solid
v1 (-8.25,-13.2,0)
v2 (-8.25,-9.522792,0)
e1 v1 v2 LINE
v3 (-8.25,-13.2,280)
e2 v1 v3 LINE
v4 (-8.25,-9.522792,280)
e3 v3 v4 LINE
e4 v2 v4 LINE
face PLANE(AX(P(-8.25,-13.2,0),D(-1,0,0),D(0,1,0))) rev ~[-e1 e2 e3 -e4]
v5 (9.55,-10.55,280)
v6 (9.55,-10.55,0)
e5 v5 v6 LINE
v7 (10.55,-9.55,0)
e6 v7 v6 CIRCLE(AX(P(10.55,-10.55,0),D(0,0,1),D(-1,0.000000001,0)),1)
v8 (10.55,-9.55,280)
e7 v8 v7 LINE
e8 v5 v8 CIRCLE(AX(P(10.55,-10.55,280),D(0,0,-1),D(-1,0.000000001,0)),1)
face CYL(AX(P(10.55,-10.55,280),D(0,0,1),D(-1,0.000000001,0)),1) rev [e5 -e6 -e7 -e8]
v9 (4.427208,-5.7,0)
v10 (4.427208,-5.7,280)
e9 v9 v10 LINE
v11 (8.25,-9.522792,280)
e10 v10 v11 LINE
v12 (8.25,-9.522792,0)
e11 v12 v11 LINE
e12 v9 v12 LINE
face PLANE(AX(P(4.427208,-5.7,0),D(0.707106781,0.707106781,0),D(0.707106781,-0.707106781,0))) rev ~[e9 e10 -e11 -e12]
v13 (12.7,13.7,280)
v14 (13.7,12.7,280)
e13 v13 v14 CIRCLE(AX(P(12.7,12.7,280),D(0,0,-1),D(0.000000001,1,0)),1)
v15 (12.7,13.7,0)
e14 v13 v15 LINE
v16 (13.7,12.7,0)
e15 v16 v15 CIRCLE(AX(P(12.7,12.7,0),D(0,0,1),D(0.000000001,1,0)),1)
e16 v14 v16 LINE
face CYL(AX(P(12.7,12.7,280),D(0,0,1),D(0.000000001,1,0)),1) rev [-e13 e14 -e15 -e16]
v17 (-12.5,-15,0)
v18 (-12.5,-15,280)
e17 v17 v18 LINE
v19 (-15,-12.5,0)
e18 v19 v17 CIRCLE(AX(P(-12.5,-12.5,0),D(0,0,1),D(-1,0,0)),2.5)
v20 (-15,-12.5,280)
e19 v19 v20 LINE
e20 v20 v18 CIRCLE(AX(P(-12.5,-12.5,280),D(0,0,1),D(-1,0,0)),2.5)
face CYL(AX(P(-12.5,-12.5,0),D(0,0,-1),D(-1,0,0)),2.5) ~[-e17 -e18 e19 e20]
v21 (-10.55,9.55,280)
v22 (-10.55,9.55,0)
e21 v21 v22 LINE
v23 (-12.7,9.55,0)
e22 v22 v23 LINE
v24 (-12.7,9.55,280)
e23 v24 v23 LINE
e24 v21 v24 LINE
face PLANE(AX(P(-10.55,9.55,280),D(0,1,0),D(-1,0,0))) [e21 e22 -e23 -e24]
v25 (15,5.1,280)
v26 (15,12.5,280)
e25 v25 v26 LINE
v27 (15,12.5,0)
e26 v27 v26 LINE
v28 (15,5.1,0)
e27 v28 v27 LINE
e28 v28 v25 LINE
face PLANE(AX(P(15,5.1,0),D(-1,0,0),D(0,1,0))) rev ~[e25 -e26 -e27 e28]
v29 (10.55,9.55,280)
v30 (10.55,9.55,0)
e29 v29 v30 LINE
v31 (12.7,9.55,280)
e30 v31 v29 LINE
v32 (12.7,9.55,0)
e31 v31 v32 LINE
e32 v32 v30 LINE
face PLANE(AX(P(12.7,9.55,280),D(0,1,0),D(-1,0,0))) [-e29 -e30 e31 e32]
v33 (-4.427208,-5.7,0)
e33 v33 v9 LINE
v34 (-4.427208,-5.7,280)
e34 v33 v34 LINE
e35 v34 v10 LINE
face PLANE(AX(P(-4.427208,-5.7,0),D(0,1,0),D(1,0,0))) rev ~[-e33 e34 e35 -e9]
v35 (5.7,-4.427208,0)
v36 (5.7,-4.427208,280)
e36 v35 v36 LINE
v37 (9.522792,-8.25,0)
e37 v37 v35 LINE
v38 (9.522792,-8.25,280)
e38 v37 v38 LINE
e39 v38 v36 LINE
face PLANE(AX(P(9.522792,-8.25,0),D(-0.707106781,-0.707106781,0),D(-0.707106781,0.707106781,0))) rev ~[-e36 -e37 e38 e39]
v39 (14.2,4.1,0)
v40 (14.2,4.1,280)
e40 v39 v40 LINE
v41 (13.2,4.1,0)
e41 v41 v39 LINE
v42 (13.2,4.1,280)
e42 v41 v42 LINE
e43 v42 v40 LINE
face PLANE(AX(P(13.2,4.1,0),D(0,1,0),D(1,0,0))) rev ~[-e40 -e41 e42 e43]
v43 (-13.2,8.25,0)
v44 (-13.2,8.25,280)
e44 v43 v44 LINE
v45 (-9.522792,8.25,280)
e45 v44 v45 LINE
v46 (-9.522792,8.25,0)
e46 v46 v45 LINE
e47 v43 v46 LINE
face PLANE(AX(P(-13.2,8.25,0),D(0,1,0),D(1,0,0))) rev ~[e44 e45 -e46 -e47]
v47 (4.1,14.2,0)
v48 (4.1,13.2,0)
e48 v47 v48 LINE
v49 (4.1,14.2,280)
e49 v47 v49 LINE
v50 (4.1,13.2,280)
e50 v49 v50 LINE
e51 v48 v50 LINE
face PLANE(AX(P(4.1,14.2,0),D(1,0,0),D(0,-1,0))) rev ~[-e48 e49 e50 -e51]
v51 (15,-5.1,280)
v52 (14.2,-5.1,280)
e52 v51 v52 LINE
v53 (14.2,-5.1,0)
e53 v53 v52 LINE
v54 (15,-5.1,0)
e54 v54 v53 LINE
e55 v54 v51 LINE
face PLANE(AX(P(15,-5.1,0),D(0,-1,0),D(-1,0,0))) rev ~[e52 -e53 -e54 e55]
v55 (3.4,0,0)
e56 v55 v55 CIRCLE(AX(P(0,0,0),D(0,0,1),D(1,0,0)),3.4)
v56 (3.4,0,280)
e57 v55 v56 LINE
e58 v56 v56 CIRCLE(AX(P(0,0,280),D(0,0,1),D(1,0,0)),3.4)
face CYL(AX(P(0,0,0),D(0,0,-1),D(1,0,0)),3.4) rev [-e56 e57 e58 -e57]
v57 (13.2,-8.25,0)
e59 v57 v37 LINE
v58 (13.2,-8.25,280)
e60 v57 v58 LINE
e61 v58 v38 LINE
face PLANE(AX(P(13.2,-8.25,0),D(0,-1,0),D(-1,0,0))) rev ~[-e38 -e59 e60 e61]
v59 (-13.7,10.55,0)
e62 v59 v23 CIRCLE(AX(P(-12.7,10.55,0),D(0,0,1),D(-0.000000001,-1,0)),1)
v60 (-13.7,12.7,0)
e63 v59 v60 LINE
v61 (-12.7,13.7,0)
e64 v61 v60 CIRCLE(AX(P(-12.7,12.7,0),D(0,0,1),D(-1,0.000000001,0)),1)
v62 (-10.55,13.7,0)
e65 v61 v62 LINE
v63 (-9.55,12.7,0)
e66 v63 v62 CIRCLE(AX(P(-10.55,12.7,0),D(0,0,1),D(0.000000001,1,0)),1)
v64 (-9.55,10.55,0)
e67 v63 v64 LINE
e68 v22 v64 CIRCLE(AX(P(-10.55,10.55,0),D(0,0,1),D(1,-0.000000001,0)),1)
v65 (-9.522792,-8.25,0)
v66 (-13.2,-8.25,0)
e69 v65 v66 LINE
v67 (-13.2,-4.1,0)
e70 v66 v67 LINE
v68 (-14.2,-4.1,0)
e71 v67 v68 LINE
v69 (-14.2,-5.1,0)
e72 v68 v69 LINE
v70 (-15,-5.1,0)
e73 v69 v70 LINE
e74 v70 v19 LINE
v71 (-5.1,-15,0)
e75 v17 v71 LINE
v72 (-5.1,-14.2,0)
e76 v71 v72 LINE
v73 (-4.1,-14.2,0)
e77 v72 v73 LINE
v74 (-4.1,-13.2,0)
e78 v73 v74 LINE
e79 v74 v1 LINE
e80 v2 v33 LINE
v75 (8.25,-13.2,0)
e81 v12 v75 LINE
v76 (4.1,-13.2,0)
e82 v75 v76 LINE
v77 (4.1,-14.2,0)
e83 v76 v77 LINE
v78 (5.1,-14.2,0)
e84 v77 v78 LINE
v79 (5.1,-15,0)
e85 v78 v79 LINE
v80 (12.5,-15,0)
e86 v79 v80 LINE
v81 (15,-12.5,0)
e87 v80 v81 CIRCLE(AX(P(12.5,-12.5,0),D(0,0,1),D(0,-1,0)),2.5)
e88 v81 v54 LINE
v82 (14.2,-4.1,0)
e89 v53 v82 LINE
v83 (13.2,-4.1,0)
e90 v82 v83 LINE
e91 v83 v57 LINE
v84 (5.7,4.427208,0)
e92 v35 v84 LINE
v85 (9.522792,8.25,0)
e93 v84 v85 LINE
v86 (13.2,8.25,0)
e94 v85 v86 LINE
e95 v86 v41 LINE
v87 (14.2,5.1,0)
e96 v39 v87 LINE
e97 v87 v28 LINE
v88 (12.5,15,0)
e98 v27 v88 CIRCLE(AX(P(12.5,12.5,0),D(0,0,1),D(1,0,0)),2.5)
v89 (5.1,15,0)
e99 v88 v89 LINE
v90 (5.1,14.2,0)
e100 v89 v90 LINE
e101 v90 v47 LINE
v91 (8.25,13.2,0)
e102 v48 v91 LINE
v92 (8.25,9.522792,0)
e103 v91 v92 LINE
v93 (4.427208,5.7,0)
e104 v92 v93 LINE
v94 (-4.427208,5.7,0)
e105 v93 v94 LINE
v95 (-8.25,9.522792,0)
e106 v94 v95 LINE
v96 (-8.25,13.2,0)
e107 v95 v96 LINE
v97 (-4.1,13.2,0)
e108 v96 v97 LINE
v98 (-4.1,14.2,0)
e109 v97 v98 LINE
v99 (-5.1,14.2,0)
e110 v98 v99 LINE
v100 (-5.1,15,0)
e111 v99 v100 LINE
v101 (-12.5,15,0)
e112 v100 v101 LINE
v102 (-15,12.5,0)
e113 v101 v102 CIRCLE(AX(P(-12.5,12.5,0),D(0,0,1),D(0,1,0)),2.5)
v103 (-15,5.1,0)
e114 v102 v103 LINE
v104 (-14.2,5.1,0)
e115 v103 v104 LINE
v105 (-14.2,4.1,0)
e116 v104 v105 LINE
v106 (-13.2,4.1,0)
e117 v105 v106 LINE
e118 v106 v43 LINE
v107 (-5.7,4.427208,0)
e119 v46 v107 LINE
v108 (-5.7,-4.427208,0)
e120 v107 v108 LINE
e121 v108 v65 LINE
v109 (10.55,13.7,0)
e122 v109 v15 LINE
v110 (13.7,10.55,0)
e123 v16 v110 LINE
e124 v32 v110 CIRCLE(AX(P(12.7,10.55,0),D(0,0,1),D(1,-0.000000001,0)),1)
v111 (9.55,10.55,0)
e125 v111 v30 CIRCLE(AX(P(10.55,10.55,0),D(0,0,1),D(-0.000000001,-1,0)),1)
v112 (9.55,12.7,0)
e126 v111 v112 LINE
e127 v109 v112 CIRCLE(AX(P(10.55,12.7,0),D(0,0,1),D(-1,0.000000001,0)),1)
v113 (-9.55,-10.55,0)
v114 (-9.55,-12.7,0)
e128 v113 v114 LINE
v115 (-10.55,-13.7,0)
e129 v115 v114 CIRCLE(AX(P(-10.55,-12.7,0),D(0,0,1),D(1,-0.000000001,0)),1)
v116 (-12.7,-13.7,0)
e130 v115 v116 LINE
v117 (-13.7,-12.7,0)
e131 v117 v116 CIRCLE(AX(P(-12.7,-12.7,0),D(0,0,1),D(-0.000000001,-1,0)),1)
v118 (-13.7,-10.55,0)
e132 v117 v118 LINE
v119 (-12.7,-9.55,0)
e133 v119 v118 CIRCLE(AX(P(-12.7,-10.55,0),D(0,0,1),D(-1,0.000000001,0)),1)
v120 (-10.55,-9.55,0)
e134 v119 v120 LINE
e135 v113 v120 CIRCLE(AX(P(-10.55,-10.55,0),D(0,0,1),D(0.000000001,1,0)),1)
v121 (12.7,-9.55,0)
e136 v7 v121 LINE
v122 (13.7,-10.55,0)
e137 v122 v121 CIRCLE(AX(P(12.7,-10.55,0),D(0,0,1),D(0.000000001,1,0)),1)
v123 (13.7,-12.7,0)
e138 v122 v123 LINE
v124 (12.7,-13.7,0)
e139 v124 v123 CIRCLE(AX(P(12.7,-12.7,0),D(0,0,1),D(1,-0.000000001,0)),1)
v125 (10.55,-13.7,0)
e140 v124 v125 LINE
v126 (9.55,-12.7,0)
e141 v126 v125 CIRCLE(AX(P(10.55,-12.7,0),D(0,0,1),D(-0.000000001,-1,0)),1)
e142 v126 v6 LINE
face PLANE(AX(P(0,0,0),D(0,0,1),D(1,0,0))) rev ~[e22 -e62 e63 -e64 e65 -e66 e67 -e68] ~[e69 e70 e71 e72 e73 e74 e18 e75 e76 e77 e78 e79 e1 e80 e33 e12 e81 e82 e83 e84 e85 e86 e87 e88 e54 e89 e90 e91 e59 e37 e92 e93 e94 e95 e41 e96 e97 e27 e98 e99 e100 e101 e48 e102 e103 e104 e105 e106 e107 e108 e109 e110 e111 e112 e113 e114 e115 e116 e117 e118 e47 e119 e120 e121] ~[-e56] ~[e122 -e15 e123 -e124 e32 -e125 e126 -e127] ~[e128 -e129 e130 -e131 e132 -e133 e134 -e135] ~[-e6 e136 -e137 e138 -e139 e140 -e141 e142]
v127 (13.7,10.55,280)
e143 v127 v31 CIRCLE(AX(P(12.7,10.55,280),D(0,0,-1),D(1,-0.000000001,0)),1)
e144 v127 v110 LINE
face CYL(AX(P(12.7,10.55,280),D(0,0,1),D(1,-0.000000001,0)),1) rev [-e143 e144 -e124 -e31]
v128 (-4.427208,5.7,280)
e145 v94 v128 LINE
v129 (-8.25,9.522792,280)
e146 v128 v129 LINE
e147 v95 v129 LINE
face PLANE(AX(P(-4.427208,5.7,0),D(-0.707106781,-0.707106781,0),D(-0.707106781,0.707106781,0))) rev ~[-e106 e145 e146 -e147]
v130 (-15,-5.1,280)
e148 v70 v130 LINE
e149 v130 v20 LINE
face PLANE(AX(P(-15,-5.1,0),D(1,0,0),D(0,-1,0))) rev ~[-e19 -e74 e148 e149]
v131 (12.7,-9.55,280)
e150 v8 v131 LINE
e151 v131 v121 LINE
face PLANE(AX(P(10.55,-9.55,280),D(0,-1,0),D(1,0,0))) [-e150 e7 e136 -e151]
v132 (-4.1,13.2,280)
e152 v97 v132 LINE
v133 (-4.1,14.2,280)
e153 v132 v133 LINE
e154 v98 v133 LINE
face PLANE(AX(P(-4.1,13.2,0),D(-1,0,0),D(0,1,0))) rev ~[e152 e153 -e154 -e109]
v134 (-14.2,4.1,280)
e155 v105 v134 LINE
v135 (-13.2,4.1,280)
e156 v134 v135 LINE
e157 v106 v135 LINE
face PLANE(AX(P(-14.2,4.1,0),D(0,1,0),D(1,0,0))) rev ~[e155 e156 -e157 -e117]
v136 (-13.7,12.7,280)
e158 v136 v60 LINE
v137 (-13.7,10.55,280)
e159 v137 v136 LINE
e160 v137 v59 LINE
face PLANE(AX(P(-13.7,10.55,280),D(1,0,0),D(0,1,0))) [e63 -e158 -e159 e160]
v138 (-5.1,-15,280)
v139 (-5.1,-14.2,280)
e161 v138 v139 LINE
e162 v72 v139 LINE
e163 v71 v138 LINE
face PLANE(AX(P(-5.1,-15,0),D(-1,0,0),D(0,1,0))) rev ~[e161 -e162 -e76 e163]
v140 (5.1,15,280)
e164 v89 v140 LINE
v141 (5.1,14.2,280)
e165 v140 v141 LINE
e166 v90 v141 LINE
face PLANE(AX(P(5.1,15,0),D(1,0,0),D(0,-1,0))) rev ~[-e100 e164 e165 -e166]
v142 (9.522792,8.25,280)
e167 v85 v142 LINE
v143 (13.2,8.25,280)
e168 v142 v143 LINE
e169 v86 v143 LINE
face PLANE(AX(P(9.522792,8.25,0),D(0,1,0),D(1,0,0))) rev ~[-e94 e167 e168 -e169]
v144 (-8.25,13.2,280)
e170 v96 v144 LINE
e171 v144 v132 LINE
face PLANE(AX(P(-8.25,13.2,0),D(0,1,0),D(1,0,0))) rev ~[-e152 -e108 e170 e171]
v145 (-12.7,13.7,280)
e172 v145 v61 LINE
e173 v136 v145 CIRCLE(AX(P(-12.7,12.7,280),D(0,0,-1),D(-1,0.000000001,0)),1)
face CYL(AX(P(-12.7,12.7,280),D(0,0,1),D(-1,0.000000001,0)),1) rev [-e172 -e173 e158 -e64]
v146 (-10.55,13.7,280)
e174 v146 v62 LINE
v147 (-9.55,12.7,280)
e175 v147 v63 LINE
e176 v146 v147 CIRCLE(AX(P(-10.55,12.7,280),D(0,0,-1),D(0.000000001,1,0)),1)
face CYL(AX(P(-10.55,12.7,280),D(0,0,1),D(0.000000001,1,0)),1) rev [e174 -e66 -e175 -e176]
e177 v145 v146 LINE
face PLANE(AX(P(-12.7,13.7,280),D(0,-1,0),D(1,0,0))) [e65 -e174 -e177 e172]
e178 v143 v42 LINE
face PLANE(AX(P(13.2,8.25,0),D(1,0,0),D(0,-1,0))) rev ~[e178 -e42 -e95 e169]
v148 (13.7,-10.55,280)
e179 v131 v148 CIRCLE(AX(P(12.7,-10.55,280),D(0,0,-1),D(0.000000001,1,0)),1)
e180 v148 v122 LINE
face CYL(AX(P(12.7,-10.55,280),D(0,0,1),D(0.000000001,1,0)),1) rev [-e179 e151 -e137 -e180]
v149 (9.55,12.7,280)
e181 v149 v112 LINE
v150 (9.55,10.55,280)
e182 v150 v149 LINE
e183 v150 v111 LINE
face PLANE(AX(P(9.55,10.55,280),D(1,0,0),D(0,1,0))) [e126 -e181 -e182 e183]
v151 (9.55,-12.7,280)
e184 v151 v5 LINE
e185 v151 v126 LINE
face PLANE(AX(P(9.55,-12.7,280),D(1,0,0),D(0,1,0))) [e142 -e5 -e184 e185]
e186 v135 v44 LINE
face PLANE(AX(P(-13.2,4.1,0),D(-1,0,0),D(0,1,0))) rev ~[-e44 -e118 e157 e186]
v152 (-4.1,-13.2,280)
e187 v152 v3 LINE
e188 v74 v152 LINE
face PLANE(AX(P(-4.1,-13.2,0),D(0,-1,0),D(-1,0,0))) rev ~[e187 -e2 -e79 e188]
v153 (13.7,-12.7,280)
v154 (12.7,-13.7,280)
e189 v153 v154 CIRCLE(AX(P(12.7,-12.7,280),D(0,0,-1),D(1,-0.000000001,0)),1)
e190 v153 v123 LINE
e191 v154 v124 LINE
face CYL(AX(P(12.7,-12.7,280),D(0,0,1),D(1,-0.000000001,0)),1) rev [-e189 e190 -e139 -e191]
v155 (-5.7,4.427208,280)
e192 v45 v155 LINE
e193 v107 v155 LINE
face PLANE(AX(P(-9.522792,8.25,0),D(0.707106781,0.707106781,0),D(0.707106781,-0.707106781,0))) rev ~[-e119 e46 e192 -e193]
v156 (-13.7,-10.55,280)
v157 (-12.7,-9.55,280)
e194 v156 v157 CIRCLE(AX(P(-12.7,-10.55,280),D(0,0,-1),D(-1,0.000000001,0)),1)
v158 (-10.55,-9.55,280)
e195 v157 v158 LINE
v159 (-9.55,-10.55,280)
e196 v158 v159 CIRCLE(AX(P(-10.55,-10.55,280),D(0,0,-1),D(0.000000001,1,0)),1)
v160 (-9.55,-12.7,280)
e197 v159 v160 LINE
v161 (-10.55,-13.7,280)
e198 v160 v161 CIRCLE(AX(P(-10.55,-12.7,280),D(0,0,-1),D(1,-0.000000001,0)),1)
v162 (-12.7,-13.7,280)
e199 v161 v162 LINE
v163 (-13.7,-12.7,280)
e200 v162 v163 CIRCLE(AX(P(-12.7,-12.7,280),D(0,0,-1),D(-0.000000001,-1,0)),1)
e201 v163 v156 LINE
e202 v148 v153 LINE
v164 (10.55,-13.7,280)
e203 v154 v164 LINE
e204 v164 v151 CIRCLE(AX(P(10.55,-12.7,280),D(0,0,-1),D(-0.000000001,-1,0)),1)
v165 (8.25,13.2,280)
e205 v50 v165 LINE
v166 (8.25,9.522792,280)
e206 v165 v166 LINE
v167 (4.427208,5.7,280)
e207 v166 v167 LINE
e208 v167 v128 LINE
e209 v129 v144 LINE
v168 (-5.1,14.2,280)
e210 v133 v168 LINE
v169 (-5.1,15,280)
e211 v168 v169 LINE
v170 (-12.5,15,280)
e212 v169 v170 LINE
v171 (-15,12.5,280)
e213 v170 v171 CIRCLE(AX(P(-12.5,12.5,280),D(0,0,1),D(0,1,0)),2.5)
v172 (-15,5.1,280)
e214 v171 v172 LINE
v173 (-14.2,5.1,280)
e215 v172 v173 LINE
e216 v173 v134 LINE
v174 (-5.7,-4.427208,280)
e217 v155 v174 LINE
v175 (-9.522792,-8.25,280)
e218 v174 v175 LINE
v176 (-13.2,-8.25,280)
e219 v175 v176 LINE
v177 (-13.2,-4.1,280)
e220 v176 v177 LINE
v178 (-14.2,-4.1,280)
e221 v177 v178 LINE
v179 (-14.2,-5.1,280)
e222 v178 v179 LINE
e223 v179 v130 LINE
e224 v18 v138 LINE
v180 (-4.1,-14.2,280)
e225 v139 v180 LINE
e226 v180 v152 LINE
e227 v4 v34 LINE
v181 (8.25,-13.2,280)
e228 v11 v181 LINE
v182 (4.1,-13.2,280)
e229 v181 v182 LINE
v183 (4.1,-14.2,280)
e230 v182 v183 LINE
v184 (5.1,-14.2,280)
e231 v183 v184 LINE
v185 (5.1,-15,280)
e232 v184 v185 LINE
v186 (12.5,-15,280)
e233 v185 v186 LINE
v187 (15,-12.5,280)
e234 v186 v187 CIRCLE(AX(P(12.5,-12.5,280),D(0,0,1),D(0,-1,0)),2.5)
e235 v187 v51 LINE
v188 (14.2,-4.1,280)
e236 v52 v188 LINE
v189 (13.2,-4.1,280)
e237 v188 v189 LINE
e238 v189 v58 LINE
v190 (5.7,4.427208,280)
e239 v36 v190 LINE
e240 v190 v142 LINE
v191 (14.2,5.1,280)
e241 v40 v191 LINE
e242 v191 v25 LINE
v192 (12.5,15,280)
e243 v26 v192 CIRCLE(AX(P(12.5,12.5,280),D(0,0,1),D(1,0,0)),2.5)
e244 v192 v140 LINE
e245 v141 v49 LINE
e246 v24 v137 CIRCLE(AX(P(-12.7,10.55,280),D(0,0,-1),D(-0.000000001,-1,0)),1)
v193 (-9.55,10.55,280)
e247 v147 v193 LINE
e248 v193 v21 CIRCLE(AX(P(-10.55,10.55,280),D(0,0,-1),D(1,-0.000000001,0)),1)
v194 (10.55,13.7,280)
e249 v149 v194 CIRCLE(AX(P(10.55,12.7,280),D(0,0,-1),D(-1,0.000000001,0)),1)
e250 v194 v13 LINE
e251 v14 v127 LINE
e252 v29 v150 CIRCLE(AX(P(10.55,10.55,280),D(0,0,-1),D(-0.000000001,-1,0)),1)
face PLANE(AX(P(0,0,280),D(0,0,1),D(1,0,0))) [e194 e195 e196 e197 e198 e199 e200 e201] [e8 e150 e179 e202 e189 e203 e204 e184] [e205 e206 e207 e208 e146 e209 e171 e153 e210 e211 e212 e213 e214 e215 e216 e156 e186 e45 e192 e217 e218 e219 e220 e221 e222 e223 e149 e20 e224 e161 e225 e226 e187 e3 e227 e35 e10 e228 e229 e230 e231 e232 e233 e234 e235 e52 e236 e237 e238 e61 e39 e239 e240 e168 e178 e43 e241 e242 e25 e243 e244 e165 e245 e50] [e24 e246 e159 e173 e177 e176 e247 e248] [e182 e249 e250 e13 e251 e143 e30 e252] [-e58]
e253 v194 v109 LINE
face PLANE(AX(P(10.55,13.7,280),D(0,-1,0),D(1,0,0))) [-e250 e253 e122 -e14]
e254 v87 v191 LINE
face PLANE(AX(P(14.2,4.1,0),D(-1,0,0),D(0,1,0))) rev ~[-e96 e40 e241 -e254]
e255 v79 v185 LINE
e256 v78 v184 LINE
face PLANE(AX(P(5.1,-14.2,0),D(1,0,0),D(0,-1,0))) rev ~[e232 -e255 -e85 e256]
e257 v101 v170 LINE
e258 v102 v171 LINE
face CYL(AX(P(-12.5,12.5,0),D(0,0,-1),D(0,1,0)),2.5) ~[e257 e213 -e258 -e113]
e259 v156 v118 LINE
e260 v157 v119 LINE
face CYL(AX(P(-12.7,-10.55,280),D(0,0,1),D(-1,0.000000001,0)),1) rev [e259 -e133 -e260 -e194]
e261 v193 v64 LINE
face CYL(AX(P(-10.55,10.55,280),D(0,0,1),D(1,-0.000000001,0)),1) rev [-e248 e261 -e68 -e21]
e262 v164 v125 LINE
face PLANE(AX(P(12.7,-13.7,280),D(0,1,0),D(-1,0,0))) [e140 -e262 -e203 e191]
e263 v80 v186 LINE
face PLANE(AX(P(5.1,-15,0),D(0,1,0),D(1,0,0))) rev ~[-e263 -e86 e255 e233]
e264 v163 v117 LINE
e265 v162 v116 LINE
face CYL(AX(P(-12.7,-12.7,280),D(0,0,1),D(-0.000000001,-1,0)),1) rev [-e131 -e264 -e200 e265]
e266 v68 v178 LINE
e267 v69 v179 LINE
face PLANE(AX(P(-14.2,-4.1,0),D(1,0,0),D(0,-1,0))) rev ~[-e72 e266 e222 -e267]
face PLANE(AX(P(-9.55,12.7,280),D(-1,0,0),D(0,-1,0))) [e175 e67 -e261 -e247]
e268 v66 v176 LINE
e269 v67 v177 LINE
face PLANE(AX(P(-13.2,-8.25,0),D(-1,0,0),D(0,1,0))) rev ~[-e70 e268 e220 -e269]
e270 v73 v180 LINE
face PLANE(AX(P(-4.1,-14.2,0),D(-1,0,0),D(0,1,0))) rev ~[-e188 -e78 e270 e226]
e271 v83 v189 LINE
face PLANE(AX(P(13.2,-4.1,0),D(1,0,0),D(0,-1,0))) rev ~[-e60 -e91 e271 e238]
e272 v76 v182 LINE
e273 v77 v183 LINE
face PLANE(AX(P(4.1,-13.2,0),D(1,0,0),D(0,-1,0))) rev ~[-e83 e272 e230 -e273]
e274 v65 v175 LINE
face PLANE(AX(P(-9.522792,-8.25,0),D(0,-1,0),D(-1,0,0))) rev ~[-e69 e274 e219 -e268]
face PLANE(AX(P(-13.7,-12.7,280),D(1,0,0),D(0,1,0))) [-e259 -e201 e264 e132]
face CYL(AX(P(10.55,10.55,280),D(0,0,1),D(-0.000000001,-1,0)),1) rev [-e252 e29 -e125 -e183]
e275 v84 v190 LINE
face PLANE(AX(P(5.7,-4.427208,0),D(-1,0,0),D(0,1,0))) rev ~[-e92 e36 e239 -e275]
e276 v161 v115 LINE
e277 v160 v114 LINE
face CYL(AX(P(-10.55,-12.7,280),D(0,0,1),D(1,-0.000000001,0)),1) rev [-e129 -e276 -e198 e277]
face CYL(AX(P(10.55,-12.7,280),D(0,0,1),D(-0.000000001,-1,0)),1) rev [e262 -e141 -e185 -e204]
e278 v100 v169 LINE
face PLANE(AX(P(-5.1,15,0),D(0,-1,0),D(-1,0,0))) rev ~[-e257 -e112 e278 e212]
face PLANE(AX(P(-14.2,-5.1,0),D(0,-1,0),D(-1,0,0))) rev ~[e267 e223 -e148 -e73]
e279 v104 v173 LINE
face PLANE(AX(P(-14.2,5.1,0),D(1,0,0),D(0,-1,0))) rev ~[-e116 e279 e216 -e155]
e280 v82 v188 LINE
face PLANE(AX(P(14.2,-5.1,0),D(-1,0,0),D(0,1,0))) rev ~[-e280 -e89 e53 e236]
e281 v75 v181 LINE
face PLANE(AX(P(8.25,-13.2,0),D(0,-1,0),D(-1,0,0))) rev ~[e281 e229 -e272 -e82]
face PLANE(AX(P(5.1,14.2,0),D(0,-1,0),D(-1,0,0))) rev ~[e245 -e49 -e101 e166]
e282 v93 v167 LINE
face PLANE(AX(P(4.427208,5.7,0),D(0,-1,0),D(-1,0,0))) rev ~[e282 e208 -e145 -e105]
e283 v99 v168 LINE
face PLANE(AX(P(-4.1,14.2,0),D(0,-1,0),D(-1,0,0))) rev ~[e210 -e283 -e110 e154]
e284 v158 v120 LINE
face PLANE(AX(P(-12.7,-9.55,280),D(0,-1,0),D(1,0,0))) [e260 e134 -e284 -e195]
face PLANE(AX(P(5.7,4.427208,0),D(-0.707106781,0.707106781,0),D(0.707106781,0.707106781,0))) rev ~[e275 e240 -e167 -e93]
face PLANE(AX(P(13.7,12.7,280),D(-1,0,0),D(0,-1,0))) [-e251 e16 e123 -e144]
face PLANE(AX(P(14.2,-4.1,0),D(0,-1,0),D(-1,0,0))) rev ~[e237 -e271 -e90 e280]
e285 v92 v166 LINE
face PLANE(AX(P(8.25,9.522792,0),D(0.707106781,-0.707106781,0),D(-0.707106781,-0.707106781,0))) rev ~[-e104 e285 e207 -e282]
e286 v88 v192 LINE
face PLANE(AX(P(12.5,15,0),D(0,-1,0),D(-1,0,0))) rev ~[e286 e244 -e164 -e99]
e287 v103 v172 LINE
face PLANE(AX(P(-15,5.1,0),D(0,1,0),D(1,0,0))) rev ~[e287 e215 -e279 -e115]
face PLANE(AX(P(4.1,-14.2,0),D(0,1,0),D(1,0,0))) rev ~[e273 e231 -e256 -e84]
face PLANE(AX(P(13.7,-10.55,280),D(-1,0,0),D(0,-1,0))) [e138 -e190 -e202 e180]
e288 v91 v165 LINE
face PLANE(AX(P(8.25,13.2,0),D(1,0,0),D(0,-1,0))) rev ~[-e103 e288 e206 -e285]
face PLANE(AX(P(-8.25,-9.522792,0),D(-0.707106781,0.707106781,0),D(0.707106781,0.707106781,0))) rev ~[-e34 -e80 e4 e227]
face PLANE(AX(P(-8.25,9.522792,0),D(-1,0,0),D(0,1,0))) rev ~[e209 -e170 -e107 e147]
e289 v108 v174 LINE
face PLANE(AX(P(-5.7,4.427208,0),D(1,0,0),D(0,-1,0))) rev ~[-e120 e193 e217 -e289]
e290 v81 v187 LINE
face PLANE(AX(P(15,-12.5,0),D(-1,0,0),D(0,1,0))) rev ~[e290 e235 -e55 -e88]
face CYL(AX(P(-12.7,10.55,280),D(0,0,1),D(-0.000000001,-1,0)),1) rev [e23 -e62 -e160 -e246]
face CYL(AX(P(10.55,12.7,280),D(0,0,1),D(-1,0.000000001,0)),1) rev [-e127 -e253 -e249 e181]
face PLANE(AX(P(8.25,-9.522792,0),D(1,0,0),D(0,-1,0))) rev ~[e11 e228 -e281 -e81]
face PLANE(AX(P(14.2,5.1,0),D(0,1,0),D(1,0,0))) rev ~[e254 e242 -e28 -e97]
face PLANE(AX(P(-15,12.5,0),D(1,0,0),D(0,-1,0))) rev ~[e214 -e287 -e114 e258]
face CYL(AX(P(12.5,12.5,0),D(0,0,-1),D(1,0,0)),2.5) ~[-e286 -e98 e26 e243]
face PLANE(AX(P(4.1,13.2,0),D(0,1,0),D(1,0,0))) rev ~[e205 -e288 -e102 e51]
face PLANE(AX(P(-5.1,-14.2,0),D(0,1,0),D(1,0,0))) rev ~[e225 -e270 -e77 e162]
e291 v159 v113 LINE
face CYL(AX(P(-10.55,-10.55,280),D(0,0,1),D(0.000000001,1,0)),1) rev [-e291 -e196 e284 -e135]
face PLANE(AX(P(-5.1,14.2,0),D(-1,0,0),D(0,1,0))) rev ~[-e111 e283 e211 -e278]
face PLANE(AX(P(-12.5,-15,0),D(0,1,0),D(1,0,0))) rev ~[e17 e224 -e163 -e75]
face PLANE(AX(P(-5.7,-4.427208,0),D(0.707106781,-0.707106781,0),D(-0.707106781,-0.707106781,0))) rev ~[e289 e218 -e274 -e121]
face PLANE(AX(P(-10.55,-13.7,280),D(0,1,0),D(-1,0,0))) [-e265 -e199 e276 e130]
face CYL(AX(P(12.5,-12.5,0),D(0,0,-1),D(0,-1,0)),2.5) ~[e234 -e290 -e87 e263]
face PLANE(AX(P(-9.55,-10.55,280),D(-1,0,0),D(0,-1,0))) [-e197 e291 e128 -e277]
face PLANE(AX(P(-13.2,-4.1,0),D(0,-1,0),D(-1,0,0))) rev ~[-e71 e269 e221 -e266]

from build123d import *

# Parameters (mm, degrees)
SKETCH1_R      = 3.4
EXTRUDE1_DEPTH = 280
EXTRUDE2_DEPTH = 281.802421642


with BuildPart() as part:
    # Sketch1 → Extrude1 (new body)
    with BuildSketch(Plane.XY):
        with BuildLine():
            Line((-5.1, 14.2), (-5.1, 15))
            Line((-5.1, 15), (-12.5, 15))
            ThreePointArc((-12.5, 15), (-14.267766953, 14.267766953), (-15, 12.5))
            Line((-15, 12.5), (-15, 5.1))
            Line((-15, 5.1), (-14.2, 5.1))
            Line((-14.2, 5.1), (-14.2, 4.1))
            Line((-14.2, 4.1), (-13.2, 4.1))
            Line((-13.2, 4.1), (-13.2, 8.25))
            Line((-13.2, 8.25), (-9.522792206, 8.25))
            Line((-9.522792206, 8.25), (-5.7, 4.427207794))
            Line((-5.7, 4.427207794), (-5.7, -4.427207794))
            Line((-5.7, -4.427207794), (-9.522792206, -8.25))
            Line((-9.522792206, -8.25), (-13.2, -8.25))
            Line((-13.2, -8.25), (-13.2, -4.1))
            Line((-13.2, -4.1), (-14.2, -4.1))
            Line((-14.2, -4.1), (-14.2, -5.1))
            Line((-14.2, -5.1), (-15, -5.1))
            Line((-15, -5.1), (-15, -12.5))
            ThreePointArc((-15, -12.5), (-14.267766953, -14.267766953), (-12.5, -15))
            Line((-12.5, -15), (-5.1, -15))
            Line((-5.1, -15), (-5.1, -14.2))
            Line((-5.1, -14.2), (-4.1, -14.2))
            Line((-4.1, -14.2), (-4.1, -13.2))
            Line((-4.1, -13.2), (-8.25, -13.2))
            Line((-8.25, -13.2), (-8.25, -9.522792206))
            Line((-8.25, -9.522792206), (-4.427207794, -5.7))
            Line((-4.427207794, -5.7), (4.427207794, -5.7))
            Line((4.427207794, -5.7), (8.25, -9.522792206))
            Line((8.25, -9.522792206), (8.25, -13.2))
            Line((8.25, -13.2), (4.1, -13.2))
            Line((4.1, -13.2), (4.1, -14.2))
            Line((4.1, -14.2), (5.1, -14.2))
            Line((5.1, -14.2), (5.1, -15))
            Line((5.1, -15), (12.5, -15))
            ThreePointArc((12.5, -15), (14.267766953, -14.267766953), (15, -12.5))
            Line((15, -12.5), (15, -5.1))
            Line((15, -5.1), (14.2, -5.1))
            Line((14.2, -5.1), (14.2, -4.1))
            Line((14.2, -4.1), (13.2, -4.1))
            Line((13.2, -4.1), (13.2, -8.25))
            Line((13.2, -8.25), (9.522792206, -8.25))
            Line((9.522792206, -8.25), (5.7, -4.427207794))
            Line((5.7, -4.427207794), (5.7, 4.427207794))
            Line((5.7, 4.427207794), (9.522792206, 8.25))
            Line((9.522792206, 8.25), (13.2, 8.25))
            Line((13.2, 8.25), (13.2, 4.1))
            Line((13.2, 4.1), (14.2, 4.1))
            Line((14.2, 4.1), (14.2, 5.1))
            Line((14.2, 5.1), (15, 5.1))
            Line((15, 5.1), (15, 12.5))
            ThreePointArc((15, 12.5), (14.267766953, 14.267766953), (12.5, 15))
            Line((12.5, 15), (5.1, 15))
            Line((5.1, 15), (5.1, 14.2))
            Line((5.1, 14.2), (4.1, 14.2))
            Line((4.1, 14.2), (4.1, 13.2))
            Line((4.1, 13.2), (8.25, 13.2))
            Line((8.25, 13.2), (8.25, 9.522792206))
            Line((8.25, 9.522792206), (4.427207794, 5.7))
            Line((4.427207794, 5.7), (-4.427207794, 5.7))
            Line((-4.427207794, 5.7), (-8.25, 9.522792206))
            Line((-8.25, 9.522792206), (-8.25, 13.2))
            Line((-8.25, 13.2), (-4.1, 13.2))
            Line((-4.1, 13.2), (-4.1, 14.2))
            Line((-4.1, 14.2), (-5.1, 14.2))
        make_face()
        Circle(SKETCH1_R, mode=Mode.SUBTRACT)
    extrude(amount=EXTRUDE1_DEPTH)

    # Sketch2 → Extrude2 (cut, through all)
    with BuildSketch(Plane.XY.offset(280)):
        with BuildLine():
            Line((13.7, 12.7), (13.7, 10.55))
            ThreePointArc((13.7, 10.55), (13.407106781, 9.842893219), (12.7, 9.55))
            Line((12.7, 9.55), (10.55, 9.55))
            ThreePointArc((10.55, 9.55), (9.842893219, 9.842893219), (9.55, 10.55))
            Line((9.55, 10.55), (9.55, 12.7))
            ThreePointArc((9.55, 12.7), (9.842893219, 13.407106781), (10.55, 13.7))
            Line((10.55, 13.7), (12.7, 13.7))
            ThreePointArc((12.7, 13.7), (13.407106781, 13.407106781), (13.7, 12.7))
        make_face()
        with BuildLine():
            Line((-12.7, 13.7), (-10.55, 13.7))
            ThreePointArc((-10.55, 13.7), (-9.842893219, 13.407106781), (-9.55, 12.7))
            Line((-9.55, 12.7), (-9.55, 10.55))
            ThreePointArc((-9.55, 10.55), (-9.842893219, 9.842893219), (-10.55, 9.55))
            Line((-10.55, 9.55), (-12.7, 9.55))
            ThreePointArc((-12.7, 9.55), (-13.407106781, 9.842893219), (-13.7, 10.55))
            Line((-13.7, 10.55), (-13.7, 12.7))
            ThreePointArc((-13.7, 12.7), (-13.407106781, 13.407106781), (-12.7, 13.7))
        make_face()
        with BuildLine():
            Line((12.7, -13.7), (10.55, -13.7))
            ThreePointArc((10.55, -13.7), (9.842893219, -13.407106781), (9.55, -12.7))
            Line((9.55, -12.7), (9.55, -10.55))
            ThreePointArc((9.55, -10.55), (9.842893219, -9.842893219), (10.55, -9.55))
            Line((10.55, -9.55), (12.7, -9.55))
            ThreePointArc((12.7, -9.55), (13.407106781, -9.842893219), (13.7, -10.55))
            Line((13.7, -10.55), (13.7, -12.7))
            ThreePointArc((13.7, -12.7), (13.407106781, -13.407106781), (12.7, -13.7))
        make_face()
        with BuildLine():
            Line((-13.7, -12.7), (-13.7, -10.55))
            ThreePointArc((-13.7, -10.55), (-13.407106781, -9.842893219), (-12.7, -9.55))
            Line((-12.7, -9.55), (-10.55, -9.55))
            ThreePointArc((-10.55, -9.55), (-9.842893219, -9.842893219), (-9.55, -10.55))
            Line((-9.55, -10.55), (-9.55, -12.7))
            ThreePointArc((-9.55, -12.7), (-9.842893219, -13.407106781), (-10.55, -13.7))
            Line((-10.55, -13.7), (-12.7, -13.7))
            ThreePointArc((-12.7, -13.7), (-13.407106781, -13.407106781), (-13.7, -12.7))
        make_face()
    extrude(amount=-EXTRUDE2_DEPTH, mode=Mode.SUBTRACT)


solid = part.part
